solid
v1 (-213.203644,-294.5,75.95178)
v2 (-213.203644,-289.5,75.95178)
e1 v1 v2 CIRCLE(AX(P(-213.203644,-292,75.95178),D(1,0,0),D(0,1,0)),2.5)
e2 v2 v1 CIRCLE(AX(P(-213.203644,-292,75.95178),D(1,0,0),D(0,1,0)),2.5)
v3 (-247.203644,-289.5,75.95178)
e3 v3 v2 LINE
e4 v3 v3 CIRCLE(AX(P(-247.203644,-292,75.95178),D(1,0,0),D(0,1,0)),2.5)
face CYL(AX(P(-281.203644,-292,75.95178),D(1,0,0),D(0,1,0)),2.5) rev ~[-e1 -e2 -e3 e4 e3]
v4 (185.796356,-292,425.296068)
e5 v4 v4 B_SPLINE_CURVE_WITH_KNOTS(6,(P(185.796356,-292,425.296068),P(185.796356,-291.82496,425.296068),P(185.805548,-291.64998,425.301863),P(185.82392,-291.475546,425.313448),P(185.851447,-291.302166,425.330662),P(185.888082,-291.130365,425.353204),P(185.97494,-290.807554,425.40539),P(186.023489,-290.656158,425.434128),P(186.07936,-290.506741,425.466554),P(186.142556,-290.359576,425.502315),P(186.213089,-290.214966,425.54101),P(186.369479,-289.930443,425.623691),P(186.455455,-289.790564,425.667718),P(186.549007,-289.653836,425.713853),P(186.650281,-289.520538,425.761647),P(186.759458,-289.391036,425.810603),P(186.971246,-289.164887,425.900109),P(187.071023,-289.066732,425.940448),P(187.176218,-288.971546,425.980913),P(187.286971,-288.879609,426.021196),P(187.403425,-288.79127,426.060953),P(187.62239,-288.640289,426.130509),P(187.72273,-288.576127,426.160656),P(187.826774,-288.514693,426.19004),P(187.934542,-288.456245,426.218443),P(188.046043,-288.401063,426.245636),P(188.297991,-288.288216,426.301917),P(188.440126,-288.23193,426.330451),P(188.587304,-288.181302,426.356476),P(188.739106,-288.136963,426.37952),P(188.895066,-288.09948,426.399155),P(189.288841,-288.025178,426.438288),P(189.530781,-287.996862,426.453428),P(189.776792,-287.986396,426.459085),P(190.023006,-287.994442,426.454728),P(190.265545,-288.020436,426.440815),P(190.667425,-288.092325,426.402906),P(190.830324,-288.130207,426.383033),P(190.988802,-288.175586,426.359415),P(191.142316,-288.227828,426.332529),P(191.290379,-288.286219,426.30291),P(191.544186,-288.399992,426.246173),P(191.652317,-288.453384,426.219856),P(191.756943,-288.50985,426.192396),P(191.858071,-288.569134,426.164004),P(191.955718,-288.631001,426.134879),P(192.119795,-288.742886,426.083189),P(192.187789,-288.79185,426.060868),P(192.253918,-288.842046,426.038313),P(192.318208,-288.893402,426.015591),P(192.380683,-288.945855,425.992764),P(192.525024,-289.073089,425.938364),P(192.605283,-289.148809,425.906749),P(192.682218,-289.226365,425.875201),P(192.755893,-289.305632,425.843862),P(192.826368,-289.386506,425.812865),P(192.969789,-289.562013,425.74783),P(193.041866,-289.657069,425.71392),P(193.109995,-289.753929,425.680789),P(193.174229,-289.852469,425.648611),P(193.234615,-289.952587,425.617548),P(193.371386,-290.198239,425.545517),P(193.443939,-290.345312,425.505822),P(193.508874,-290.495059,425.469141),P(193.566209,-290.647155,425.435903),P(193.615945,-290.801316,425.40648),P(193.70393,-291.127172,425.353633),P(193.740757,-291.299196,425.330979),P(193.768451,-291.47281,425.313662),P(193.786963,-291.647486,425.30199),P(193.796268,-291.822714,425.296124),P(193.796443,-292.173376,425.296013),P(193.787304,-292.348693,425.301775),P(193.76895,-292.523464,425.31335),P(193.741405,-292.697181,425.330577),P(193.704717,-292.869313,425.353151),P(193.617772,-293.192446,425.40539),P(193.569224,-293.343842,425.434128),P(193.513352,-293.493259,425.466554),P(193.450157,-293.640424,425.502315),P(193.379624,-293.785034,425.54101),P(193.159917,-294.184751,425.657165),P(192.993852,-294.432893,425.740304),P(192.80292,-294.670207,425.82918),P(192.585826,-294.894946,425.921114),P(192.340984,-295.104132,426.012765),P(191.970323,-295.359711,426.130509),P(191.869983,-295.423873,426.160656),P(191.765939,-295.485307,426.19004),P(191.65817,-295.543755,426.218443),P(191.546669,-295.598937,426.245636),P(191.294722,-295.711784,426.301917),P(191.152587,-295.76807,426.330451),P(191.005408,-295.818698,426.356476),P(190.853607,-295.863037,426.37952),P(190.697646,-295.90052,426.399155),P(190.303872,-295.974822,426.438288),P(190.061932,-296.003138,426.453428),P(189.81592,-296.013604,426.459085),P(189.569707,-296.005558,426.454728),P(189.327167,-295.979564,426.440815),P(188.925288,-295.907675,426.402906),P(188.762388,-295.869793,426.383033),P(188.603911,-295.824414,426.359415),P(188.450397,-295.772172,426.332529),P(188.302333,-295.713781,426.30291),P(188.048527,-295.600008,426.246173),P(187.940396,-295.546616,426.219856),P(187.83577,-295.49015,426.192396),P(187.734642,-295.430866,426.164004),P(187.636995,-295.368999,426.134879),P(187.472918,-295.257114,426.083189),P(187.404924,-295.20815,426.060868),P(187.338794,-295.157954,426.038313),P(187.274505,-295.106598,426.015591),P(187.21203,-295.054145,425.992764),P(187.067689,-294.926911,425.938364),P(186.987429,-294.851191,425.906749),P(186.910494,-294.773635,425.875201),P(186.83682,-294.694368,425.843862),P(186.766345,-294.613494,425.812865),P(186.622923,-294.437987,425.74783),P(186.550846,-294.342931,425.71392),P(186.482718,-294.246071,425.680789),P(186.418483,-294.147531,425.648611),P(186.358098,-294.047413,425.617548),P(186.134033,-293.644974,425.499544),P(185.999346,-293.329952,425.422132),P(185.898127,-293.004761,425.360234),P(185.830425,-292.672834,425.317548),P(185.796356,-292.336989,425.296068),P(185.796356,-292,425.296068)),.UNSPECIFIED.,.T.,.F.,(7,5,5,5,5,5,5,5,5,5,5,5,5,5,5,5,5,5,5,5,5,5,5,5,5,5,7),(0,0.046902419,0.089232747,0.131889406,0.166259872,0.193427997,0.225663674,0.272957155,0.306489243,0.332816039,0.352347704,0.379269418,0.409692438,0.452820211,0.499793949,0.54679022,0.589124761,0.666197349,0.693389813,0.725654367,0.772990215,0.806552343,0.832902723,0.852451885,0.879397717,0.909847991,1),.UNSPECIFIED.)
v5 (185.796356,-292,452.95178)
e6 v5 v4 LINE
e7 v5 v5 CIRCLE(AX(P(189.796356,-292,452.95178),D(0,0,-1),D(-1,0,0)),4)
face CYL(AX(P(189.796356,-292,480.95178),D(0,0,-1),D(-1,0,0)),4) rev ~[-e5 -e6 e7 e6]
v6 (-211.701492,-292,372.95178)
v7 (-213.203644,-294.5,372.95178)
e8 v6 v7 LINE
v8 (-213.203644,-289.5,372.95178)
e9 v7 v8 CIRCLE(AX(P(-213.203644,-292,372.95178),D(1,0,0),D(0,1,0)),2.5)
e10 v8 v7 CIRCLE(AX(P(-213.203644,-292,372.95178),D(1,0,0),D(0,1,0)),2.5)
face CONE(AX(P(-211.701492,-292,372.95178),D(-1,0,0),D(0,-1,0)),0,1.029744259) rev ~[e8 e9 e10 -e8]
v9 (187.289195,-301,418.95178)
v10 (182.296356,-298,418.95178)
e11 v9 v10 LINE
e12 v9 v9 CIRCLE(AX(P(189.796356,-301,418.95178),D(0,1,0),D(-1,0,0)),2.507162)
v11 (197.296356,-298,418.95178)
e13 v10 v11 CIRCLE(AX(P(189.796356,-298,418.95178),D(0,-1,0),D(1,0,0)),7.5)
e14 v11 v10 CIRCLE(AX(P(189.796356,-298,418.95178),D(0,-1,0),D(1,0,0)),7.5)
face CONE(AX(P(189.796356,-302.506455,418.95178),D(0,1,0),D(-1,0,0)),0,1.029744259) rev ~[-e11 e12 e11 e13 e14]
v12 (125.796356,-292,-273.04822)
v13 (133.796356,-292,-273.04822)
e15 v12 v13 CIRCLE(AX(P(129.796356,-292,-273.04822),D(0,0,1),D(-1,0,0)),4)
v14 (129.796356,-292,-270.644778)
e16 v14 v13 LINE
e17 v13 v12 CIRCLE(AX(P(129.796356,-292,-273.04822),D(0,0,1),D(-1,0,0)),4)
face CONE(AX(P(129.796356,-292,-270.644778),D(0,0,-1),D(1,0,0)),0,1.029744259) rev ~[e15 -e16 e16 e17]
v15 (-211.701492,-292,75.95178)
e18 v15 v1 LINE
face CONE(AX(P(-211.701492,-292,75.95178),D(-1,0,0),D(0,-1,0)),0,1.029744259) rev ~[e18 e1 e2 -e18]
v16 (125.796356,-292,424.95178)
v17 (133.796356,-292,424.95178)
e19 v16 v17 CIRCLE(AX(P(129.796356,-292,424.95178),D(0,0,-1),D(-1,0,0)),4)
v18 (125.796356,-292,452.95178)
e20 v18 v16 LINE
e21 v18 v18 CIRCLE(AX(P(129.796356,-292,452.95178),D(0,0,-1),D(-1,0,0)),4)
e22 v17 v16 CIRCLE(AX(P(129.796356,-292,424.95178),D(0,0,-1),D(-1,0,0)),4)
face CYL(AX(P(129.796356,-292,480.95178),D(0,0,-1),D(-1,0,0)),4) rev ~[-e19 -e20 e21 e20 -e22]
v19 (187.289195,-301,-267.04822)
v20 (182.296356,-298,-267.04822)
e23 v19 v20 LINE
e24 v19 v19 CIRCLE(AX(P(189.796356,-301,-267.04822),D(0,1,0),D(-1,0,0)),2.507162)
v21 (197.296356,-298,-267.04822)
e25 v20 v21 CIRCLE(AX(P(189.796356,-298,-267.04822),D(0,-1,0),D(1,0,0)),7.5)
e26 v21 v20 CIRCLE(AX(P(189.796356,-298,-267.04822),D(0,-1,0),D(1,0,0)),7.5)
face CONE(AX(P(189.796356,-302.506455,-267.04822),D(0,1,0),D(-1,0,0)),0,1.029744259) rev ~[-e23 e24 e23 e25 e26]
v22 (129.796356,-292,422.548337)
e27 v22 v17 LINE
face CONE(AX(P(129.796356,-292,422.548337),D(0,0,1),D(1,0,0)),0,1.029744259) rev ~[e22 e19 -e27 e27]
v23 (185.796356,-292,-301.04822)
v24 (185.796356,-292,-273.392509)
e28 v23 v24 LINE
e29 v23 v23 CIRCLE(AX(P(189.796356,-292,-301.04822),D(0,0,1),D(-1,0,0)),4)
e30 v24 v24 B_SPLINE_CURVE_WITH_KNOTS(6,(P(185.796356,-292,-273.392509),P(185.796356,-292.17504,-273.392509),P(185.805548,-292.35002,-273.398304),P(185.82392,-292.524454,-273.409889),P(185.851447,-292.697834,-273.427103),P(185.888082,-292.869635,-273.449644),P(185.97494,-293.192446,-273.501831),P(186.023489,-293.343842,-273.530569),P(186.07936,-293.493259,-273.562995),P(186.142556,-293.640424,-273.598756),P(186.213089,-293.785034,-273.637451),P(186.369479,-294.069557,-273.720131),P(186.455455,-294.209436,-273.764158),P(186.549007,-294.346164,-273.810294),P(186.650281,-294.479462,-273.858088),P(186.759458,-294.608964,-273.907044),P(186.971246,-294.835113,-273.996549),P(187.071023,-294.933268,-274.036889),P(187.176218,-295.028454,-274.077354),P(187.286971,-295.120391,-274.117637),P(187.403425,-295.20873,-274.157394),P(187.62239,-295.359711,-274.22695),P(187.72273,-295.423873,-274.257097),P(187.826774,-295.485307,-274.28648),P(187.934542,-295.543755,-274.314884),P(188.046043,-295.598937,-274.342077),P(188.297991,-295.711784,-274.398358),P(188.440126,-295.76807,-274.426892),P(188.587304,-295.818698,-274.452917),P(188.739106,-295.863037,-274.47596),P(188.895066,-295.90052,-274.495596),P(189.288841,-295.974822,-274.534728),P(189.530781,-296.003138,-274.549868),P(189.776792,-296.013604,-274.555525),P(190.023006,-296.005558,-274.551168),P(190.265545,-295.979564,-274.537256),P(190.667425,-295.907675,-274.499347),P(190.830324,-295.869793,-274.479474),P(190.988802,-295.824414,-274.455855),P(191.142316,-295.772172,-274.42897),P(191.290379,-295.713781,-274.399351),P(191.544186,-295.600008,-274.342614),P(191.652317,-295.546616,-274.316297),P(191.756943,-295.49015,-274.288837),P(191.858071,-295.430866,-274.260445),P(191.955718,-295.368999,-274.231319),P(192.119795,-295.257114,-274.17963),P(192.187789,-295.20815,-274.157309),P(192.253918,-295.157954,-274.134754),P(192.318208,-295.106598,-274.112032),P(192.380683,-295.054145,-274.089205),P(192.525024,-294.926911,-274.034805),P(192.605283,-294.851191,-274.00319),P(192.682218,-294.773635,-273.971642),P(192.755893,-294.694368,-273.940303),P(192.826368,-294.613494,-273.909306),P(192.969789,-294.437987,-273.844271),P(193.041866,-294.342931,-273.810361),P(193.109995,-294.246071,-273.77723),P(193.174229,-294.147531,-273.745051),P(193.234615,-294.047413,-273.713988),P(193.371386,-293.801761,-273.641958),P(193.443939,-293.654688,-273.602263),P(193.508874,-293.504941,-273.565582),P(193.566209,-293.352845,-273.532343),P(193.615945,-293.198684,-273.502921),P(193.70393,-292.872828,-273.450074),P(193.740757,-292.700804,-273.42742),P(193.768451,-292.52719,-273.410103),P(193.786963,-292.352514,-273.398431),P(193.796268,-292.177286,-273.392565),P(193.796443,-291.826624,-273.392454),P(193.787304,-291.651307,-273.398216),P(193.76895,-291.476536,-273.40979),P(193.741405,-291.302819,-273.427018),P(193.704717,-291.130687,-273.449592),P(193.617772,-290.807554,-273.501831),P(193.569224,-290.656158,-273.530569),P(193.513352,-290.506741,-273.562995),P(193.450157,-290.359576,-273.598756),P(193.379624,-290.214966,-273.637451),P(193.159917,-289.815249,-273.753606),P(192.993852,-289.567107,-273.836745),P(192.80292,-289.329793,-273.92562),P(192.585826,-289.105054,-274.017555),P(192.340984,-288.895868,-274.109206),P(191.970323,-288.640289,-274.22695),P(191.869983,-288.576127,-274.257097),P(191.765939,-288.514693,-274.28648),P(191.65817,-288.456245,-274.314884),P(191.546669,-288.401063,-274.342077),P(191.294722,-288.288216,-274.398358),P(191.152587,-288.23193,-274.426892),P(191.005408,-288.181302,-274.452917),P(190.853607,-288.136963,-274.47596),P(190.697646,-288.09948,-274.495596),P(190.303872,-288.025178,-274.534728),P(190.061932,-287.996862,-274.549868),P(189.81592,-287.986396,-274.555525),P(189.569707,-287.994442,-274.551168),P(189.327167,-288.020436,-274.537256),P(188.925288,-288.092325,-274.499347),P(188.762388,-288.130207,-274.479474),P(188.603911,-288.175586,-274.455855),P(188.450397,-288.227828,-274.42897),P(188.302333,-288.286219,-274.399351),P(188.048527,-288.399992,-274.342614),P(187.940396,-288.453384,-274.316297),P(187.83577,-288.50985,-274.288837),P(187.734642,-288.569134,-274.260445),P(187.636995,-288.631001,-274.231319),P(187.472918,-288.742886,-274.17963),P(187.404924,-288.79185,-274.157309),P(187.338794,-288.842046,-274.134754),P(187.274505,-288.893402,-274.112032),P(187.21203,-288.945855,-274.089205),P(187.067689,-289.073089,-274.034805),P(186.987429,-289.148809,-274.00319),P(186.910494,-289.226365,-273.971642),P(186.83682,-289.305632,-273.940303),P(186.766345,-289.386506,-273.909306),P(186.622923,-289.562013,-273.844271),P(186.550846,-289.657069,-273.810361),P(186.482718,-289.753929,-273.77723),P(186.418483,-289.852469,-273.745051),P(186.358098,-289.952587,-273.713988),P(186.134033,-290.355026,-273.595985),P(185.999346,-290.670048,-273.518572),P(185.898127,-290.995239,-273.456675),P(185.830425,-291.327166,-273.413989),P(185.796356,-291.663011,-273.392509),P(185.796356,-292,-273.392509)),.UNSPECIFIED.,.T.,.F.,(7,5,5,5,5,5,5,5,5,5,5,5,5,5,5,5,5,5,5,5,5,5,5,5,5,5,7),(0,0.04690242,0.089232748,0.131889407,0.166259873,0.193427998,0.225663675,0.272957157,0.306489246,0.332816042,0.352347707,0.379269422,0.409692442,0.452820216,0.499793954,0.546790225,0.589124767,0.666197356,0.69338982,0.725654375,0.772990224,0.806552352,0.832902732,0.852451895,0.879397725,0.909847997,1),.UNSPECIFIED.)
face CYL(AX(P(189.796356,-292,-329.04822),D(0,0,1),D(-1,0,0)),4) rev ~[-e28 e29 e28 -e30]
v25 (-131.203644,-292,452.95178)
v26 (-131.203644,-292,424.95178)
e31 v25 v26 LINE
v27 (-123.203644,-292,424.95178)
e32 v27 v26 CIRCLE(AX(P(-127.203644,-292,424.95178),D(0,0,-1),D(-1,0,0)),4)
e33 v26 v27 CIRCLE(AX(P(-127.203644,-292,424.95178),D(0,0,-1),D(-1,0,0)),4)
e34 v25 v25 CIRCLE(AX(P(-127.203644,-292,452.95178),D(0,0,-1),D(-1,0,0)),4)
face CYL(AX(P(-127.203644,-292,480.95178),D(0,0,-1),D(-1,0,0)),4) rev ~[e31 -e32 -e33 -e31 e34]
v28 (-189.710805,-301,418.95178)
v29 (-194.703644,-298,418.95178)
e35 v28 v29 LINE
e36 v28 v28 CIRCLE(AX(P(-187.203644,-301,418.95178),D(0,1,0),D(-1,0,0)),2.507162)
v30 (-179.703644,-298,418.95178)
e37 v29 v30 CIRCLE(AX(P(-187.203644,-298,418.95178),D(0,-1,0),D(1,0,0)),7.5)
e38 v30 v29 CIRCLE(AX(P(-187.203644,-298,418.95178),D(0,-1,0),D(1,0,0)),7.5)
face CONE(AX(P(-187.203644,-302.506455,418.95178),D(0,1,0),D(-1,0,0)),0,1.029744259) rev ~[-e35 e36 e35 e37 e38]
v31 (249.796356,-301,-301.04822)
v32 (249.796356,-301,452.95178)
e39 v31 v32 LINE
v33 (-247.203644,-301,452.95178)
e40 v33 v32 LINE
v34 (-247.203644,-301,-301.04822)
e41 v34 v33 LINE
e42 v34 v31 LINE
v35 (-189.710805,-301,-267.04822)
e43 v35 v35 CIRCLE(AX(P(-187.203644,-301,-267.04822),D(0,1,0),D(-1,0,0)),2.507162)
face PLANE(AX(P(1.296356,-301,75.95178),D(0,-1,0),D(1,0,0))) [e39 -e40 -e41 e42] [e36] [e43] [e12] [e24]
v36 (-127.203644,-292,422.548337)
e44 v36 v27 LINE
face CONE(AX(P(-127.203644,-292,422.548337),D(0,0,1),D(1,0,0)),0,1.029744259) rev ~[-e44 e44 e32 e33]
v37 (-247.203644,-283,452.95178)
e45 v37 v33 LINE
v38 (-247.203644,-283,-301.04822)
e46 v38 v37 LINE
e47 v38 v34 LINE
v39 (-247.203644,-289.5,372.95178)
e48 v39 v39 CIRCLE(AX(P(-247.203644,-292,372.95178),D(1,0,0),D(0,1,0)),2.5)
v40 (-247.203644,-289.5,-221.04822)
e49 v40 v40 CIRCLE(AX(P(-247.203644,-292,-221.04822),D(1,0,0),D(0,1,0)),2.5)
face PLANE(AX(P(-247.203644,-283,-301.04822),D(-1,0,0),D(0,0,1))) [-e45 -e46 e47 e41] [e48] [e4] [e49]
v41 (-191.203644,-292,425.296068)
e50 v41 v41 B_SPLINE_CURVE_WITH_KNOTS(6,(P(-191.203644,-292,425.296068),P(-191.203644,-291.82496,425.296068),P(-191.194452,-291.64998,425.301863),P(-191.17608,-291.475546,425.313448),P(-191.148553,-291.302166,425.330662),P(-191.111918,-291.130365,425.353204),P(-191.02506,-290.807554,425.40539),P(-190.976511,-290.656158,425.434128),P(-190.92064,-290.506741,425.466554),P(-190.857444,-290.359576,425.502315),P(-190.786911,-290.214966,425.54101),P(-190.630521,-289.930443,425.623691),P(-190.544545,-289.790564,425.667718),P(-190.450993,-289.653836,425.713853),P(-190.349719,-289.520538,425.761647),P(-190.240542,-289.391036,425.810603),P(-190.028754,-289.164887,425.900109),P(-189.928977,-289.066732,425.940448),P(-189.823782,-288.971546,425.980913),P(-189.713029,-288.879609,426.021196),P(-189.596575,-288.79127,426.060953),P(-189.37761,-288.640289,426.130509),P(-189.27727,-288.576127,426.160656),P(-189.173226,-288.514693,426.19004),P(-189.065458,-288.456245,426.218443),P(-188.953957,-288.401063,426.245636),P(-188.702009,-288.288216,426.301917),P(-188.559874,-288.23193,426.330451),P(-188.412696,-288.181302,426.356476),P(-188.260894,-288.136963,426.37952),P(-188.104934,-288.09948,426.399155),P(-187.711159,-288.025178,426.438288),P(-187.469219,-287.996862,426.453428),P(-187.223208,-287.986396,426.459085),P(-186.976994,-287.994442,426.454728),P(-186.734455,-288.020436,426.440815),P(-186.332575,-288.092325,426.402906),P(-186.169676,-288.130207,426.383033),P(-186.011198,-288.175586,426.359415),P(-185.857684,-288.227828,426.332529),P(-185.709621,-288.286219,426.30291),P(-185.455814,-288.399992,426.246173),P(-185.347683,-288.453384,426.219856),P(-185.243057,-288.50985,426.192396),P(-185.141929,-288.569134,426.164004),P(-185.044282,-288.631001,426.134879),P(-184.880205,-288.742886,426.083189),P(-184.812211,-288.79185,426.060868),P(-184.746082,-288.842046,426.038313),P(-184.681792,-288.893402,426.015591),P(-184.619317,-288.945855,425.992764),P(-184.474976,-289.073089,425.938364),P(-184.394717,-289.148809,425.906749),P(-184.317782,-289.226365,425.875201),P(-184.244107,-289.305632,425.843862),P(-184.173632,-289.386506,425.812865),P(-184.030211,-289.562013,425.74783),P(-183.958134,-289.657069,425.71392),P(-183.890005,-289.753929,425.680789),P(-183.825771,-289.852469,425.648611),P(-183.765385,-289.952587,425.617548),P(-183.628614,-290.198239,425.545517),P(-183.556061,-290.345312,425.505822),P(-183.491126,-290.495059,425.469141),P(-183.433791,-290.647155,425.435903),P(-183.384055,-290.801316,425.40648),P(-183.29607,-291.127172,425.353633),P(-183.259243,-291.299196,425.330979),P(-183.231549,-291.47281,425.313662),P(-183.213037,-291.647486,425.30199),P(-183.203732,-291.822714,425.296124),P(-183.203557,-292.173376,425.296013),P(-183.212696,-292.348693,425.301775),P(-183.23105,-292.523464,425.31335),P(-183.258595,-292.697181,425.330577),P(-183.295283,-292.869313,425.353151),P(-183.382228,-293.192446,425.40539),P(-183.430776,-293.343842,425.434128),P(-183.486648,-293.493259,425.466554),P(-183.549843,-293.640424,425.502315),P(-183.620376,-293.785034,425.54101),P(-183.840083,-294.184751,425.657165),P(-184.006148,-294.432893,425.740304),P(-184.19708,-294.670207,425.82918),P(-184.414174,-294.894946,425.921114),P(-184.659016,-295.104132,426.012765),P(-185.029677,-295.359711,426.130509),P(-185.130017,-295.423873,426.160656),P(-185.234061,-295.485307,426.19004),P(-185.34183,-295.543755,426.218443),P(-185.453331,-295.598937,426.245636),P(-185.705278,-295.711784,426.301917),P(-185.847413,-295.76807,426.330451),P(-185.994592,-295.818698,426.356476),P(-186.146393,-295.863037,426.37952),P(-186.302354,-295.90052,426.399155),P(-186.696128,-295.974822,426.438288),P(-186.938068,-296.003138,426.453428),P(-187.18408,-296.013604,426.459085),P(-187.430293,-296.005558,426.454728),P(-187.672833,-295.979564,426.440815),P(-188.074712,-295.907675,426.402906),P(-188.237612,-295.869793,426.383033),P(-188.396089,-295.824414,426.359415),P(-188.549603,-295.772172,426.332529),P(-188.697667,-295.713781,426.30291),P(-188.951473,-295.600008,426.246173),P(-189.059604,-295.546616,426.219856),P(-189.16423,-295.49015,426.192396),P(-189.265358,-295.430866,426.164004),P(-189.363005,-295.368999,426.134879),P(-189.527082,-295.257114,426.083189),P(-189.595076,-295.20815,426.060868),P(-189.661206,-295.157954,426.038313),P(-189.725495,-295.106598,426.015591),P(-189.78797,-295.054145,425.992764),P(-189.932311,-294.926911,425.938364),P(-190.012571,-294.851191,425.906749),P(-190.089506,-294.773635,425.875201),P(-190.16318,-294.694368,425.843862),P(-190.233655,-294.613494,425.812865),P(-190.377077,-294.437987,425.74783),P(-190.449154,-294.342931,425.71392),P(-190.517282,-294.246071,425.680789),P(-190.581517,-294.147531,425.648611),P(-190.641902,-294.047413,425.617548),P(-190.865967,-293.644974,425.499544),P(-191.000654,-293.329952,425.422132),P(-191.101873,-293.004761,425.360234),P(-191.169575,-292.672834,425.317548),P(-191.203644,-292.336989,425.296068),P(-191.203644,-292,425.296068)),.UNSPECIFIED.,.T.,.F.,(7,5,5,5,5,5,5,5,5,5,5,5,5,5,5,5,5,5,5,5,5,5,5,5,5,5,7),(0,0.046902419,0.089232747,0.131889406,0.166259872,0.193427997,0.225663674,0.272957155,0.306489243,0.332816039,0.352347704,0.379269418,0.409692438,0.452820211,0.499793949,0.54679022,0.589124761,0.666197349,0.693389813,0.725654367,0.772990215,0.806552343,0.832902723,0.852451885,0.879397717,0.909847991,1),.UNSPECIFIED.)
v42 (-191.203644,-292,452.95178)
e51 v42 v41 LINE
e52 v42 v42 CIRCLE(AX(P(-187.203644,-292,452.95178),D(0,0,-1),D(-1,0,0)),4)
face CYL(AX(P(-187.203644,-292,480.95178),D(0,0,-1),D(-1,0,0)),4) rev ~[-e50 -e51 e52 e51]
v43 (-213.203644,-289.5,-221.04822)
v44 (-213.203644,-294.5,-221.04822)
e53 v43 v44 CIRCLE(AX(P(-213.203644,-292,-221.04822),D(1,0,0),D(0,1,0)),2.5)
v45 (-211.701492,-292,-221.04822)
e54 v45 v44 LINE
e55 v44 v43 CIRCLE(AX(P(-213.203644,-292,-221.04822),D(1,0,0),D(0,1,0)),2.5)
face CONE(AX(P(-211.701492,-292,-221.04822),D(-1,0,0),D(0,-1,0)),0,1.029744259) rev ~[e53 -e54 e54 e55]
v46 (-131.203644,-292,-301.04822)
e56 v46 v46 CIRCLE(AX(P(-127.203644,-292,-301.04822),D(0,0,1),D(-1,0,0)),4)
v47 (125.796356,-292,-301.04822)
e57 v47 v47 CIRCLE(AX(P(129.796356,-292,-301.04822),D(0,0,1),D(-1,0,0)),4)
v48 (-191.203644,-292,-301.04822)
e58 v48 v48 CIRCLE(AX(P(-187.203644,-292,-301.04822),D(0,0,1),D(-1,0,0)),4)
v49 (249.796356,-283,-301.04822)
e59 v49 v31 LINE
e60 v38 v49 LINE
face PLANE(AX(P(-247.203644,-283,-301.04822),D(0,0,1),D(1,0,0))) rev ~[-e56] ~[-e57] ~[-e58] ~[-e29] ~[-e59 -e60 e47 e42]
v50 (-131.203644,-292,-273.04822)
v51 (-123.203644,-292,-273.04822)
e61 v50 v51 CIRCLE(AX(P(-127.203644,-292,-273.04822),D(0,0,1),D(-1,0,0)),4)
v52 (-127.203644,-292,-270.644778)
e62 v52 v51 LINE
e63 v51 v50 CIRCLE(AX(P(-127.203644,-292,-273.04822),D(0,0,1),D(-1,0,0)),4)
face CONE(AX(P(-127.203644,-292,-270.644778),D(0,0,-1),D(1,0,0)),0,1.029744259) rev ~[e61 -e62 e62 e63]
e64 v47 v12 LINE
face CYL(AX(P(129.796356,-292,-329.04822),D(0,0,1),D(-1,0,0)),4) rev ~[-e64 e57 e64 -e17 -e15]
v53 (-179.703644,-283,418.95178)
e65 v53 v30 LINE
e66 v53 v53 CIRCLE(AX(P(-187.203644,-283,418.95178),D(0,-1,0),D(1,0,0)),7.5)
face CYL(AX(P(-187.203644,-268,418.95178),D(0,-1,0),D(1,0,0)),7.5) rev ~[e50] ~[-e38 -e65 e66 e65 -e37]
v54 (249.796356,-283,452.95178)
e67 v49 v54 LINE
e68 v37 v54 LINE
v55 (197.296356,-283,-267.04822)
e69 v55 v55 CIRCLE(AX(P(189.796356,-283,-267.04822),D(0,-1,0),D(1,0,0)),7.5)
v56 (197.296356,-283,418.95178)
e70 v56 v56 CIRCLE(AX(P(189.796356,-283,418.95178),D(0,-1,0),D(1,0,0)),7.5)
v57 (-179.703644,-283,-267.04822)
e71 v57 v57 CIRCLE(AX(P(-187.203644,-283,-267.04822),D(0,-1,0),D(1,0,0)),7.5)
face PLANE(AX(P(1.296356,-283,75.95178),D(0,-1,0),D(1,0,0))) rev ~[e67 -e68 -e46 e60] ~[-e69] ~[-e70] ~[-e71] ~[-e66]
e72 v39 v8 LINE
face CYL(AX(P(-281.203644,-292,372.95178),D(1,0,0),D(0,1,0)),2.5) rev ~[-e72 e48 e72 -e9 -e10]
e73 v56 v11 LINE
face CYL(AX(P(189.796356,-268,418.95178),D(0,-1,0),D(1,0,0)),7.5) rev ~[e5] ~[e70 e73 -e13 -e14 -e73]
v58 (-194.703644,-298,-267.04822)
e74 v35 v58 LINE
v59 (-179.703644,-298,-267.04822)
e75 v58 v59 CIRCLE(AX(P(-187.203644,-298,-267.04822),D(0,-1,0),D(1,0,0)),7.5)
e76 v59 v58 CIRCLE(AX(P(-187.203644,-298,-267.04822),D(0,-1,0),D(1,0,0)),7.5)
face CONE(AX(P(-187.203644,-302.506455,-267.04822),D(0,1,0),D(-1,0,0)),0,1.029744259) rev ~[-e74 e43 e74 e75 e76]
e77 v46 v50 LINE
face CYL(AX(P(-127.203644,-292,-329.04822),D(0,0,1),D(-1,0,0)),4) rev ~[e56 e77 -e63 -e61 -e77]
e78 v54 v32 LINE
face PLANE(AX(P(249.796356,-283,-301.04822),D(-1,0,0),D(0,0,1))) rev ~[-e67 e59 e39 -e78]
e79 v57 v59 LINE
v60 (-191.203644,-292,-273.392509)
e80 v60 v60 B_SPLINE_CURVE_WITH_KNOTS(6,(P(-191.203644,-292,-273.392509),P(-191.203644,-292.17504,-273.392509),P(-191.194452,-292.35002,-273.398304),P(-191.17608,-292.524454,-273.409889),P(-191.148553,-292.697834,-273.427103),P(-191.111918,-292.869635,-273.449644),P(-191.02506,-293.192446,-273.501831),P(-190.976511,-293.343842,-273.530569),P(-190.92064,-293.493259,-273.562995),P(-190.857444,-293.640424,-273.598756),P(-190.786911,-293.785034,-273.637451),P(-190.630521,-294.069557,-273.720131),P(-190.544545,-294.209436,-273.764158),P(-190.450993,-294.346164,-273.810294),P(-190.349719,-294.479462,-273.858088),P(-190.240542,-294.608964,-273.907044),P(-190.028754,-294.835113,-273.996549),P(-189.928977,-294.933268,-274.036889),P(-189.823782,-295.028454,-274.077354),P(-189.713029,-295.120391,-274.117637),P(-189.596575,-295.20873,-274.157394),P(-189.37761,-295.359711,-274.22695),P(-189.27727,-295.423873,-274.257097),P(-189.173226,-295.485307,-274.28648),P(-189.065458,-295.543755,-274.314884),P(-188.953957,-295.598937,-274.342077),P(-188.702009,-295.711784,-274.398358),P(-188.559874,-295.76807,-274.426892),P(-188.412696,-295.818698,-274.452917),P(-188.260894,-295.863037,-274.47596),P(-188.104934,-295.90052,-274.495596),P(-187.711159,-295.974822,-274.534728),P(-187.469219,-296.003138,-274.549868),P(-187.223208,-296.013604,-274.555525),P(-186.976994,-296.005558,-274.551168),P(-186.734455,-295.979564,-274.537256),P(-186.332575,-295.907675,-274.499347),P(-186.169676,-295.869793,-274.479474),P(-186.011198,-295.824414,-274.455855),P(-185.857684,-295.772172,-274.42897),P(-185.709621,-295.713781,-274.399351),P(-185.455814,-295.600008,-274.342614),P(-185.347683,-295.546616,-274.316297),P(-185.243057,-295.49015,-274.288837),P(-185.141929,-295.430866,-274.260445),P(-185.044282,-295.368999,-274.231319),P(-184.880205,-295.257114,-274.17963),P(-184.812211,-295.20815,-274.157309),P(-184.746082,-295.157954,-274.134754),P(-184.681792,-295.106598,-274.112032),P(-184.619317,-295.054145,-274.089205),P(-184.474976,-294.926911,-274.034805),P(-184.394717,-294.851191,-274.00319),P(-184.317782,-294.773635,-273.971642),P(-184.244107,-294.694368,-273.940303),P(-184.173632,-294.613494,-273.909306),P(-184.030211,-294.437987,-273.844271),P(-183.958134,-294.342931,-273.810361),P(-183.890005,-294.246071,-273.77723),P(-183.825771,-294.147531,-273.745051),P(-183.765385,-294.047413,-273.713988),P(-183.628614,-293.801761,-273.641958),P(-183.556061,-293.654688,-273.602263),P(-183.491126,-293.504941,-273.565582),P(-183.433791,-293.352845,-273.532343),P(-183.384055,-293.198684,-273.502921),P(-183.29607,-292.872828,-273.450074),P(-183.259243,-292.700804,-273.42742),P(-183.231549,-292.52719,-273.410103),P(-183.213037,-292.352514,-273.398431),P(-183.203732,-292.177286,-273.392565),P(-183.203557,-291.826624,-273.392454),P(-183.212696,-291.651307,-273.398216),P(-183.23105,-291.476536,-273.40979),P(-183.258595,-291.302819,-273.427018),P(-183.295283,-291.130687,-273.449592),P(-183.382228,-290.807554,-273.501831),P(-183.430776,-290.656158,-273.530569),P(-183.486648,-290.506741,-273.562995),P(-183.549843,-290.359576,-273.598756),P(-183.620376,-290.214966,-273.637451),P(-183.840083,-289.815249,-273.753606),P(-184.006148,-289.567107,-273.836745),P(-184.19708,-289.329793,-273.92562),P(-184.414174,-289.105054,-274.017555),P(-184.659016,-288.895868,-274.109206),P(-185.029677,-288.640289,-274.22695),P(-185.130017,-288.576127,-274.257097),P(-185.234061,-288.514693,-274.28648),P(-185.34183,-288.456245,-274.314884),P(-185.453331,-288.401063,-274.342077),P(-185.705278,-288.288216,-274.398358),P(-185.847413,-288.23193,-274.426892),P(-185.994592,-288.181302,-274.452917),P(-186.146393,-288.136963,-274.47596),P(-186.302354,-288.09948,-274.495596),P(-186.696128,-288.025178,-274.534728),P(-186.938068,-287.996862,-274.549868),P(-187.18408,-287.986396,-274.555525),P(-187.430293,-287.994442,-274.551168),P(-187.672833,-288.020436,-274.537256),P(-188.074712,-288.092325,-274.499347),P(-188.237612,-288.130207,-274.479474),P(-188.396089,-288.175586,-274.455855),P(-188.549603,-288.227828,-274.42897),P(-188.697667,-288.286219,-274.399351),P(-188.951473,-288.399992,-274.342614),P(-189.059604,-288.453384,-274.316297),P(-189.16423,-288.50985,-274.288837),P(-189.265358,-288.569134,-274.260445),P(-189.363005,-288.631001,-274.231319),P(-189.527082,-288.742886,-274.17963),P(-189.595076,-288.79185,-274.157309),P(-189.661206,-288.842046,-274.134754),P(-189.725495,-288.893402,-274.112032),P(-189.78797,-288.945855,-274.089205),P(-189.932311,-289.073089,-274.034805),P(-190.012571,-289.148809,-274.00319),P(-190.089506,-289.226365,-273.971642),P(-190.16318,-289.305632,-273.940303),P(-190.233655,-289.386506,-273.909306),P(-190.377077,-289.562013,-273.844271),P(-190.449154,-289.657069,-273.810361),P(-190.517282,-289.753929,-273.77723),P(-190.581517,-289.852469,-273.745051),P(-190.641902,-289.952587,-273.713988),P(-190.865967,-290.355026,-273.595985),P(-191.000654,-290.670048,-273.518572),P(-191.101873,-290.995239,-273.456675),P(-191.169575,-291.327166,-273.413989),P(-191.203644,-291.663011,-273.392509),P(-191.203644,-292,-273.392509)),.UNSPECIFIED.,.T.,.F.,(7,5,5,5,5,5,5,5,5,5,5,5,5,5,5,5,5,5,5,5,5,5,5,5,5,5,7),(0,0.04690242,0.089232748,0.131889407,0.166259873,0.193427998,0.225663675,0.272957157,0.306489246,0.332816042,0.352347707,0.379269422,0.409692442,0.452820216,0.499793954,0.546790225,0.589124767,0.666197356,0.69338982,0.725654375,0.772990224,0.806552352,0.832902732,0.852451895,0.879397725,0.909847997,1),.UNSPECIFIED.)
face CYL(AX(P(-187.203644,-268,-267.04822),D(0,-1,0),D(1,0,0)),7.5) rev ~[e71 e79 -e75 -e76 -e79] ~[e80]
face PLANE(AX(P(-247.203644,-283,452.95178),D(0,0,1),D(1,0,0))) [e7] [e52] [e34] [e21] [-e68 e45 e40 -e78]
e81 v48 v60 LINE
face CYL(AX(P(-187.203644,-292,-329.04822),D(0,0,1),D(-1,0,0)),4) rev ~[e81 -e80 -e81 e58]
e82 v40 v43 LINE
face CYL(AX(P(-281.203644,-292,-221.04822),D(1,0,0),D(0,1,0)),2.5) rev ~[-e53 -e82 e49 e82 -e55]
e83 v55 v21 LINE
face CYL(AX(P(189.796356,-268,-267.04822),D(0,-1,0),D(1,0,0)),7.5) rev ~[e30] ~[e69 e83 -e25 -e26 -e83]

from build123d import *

# Parameters (mm, degrees)
F1_W           = 497
F1_H           = 754
F2_DEPTH       = 18
F5_D           = 8
F5_DEPTH       = 28
F5_TIP         = 2.4034424761
F5_ON_F4_D     = 8
F5_ON_F4_DEPTH = 28
F5_ON_F4_TIP   = 2.4034424761
F7_D           = 5
F7_DEPTH       = 34
F7_TIP         = 1.5021515476
F9_D           = 15
F9_DEPTH       = 15
F9_TIP         = 4.5064546427


with BuildPart() as f2:
    # F1 (on offset) → F2 (new body)
    with BuildSketch(Plane.XZ.offset(283)):
        with Locations((1.2963563204, 75.9517796117)):
            Rectangle(F1_W, F1_H)
    extrude(amount=F2_DEPTH)

    # F5
    with Locations(Plane.XY.offset(452.9517796117)):
        with Locations((-187.2036436796, -292), (-127.2036436796, -292), (129.7963563204, -292), (189.7963563204, -292)):
            Hole(F5_D / 2, depth=F5_DEPTH)
            with Locations((0, 0, -(F5_DEPTH + F5_TIP / 2))):  # 118° drill point
                Cone(0, F5_D / 2, F5_TIP, mode=Mode.SUBTRACT)

    # F5 on F4
    with Locations(Plane(origin=(0, 0, -301.0482203883), x_dir=(1, 0, 0), z_dir=(0, 0, -1))):
        with Locations((-187.2036436796, 292), (-127.2036436796, 292), (129.7963563204, 292), (189.7963563204, 292)):
            Hole(F5_ON_F4_D / 2, depth=F5_ON_F4_DEPTH)
            with Locations((0, 0, -(F5_ON_F4_DEPTH + F5_ON_F4_TIP / 2))):  # 118° drill point
                Cone(0, F5_ON_F4_D / 2, F5_ON_F4_TIP, mode=Mode.SUBTRACT)

    # F7
    with Locations(Plane(origin=(-247.2036436796, 0, 0), x_dir=(0, -1, 0), z_dir=(-1, 0, 0))):
        with Locations((292, 372.9517796117), (292, 75.9517796117), (292, -221.0482203883)):
            Hole(F7_D / 2, depth=F7_DEPTH)
            with Locations((0, 0, -(F7_DEPTH + F7_TIP / 2))):  # 118° drill point
                Cone(0, F7_D / 2, F7_TIP, mode=Mode.SUBTRACT)

    # F9
    with Locations(Plane(origin=(0, -283, 0), x_dir=(-1, 0, 0), z_dir=(0, 1, 0))):
        with Locations((-189.7963563204, 418.9517796117), (187.2036436796, 418.9517796117), (187.2036436796, -267.0482203883), (-189.7963563204, -267.0482203883)):
            Hole(F9_D / 2, depth=F9_DEPTH)
            with Locations((0, 0, -(F9_DEPTH + F9_TIP / 2))):  # 118° drill point
                Cone(0, F9_D / 2, F9_TIP, mode=Mode.SUBTRACT)


solid = f2.part
